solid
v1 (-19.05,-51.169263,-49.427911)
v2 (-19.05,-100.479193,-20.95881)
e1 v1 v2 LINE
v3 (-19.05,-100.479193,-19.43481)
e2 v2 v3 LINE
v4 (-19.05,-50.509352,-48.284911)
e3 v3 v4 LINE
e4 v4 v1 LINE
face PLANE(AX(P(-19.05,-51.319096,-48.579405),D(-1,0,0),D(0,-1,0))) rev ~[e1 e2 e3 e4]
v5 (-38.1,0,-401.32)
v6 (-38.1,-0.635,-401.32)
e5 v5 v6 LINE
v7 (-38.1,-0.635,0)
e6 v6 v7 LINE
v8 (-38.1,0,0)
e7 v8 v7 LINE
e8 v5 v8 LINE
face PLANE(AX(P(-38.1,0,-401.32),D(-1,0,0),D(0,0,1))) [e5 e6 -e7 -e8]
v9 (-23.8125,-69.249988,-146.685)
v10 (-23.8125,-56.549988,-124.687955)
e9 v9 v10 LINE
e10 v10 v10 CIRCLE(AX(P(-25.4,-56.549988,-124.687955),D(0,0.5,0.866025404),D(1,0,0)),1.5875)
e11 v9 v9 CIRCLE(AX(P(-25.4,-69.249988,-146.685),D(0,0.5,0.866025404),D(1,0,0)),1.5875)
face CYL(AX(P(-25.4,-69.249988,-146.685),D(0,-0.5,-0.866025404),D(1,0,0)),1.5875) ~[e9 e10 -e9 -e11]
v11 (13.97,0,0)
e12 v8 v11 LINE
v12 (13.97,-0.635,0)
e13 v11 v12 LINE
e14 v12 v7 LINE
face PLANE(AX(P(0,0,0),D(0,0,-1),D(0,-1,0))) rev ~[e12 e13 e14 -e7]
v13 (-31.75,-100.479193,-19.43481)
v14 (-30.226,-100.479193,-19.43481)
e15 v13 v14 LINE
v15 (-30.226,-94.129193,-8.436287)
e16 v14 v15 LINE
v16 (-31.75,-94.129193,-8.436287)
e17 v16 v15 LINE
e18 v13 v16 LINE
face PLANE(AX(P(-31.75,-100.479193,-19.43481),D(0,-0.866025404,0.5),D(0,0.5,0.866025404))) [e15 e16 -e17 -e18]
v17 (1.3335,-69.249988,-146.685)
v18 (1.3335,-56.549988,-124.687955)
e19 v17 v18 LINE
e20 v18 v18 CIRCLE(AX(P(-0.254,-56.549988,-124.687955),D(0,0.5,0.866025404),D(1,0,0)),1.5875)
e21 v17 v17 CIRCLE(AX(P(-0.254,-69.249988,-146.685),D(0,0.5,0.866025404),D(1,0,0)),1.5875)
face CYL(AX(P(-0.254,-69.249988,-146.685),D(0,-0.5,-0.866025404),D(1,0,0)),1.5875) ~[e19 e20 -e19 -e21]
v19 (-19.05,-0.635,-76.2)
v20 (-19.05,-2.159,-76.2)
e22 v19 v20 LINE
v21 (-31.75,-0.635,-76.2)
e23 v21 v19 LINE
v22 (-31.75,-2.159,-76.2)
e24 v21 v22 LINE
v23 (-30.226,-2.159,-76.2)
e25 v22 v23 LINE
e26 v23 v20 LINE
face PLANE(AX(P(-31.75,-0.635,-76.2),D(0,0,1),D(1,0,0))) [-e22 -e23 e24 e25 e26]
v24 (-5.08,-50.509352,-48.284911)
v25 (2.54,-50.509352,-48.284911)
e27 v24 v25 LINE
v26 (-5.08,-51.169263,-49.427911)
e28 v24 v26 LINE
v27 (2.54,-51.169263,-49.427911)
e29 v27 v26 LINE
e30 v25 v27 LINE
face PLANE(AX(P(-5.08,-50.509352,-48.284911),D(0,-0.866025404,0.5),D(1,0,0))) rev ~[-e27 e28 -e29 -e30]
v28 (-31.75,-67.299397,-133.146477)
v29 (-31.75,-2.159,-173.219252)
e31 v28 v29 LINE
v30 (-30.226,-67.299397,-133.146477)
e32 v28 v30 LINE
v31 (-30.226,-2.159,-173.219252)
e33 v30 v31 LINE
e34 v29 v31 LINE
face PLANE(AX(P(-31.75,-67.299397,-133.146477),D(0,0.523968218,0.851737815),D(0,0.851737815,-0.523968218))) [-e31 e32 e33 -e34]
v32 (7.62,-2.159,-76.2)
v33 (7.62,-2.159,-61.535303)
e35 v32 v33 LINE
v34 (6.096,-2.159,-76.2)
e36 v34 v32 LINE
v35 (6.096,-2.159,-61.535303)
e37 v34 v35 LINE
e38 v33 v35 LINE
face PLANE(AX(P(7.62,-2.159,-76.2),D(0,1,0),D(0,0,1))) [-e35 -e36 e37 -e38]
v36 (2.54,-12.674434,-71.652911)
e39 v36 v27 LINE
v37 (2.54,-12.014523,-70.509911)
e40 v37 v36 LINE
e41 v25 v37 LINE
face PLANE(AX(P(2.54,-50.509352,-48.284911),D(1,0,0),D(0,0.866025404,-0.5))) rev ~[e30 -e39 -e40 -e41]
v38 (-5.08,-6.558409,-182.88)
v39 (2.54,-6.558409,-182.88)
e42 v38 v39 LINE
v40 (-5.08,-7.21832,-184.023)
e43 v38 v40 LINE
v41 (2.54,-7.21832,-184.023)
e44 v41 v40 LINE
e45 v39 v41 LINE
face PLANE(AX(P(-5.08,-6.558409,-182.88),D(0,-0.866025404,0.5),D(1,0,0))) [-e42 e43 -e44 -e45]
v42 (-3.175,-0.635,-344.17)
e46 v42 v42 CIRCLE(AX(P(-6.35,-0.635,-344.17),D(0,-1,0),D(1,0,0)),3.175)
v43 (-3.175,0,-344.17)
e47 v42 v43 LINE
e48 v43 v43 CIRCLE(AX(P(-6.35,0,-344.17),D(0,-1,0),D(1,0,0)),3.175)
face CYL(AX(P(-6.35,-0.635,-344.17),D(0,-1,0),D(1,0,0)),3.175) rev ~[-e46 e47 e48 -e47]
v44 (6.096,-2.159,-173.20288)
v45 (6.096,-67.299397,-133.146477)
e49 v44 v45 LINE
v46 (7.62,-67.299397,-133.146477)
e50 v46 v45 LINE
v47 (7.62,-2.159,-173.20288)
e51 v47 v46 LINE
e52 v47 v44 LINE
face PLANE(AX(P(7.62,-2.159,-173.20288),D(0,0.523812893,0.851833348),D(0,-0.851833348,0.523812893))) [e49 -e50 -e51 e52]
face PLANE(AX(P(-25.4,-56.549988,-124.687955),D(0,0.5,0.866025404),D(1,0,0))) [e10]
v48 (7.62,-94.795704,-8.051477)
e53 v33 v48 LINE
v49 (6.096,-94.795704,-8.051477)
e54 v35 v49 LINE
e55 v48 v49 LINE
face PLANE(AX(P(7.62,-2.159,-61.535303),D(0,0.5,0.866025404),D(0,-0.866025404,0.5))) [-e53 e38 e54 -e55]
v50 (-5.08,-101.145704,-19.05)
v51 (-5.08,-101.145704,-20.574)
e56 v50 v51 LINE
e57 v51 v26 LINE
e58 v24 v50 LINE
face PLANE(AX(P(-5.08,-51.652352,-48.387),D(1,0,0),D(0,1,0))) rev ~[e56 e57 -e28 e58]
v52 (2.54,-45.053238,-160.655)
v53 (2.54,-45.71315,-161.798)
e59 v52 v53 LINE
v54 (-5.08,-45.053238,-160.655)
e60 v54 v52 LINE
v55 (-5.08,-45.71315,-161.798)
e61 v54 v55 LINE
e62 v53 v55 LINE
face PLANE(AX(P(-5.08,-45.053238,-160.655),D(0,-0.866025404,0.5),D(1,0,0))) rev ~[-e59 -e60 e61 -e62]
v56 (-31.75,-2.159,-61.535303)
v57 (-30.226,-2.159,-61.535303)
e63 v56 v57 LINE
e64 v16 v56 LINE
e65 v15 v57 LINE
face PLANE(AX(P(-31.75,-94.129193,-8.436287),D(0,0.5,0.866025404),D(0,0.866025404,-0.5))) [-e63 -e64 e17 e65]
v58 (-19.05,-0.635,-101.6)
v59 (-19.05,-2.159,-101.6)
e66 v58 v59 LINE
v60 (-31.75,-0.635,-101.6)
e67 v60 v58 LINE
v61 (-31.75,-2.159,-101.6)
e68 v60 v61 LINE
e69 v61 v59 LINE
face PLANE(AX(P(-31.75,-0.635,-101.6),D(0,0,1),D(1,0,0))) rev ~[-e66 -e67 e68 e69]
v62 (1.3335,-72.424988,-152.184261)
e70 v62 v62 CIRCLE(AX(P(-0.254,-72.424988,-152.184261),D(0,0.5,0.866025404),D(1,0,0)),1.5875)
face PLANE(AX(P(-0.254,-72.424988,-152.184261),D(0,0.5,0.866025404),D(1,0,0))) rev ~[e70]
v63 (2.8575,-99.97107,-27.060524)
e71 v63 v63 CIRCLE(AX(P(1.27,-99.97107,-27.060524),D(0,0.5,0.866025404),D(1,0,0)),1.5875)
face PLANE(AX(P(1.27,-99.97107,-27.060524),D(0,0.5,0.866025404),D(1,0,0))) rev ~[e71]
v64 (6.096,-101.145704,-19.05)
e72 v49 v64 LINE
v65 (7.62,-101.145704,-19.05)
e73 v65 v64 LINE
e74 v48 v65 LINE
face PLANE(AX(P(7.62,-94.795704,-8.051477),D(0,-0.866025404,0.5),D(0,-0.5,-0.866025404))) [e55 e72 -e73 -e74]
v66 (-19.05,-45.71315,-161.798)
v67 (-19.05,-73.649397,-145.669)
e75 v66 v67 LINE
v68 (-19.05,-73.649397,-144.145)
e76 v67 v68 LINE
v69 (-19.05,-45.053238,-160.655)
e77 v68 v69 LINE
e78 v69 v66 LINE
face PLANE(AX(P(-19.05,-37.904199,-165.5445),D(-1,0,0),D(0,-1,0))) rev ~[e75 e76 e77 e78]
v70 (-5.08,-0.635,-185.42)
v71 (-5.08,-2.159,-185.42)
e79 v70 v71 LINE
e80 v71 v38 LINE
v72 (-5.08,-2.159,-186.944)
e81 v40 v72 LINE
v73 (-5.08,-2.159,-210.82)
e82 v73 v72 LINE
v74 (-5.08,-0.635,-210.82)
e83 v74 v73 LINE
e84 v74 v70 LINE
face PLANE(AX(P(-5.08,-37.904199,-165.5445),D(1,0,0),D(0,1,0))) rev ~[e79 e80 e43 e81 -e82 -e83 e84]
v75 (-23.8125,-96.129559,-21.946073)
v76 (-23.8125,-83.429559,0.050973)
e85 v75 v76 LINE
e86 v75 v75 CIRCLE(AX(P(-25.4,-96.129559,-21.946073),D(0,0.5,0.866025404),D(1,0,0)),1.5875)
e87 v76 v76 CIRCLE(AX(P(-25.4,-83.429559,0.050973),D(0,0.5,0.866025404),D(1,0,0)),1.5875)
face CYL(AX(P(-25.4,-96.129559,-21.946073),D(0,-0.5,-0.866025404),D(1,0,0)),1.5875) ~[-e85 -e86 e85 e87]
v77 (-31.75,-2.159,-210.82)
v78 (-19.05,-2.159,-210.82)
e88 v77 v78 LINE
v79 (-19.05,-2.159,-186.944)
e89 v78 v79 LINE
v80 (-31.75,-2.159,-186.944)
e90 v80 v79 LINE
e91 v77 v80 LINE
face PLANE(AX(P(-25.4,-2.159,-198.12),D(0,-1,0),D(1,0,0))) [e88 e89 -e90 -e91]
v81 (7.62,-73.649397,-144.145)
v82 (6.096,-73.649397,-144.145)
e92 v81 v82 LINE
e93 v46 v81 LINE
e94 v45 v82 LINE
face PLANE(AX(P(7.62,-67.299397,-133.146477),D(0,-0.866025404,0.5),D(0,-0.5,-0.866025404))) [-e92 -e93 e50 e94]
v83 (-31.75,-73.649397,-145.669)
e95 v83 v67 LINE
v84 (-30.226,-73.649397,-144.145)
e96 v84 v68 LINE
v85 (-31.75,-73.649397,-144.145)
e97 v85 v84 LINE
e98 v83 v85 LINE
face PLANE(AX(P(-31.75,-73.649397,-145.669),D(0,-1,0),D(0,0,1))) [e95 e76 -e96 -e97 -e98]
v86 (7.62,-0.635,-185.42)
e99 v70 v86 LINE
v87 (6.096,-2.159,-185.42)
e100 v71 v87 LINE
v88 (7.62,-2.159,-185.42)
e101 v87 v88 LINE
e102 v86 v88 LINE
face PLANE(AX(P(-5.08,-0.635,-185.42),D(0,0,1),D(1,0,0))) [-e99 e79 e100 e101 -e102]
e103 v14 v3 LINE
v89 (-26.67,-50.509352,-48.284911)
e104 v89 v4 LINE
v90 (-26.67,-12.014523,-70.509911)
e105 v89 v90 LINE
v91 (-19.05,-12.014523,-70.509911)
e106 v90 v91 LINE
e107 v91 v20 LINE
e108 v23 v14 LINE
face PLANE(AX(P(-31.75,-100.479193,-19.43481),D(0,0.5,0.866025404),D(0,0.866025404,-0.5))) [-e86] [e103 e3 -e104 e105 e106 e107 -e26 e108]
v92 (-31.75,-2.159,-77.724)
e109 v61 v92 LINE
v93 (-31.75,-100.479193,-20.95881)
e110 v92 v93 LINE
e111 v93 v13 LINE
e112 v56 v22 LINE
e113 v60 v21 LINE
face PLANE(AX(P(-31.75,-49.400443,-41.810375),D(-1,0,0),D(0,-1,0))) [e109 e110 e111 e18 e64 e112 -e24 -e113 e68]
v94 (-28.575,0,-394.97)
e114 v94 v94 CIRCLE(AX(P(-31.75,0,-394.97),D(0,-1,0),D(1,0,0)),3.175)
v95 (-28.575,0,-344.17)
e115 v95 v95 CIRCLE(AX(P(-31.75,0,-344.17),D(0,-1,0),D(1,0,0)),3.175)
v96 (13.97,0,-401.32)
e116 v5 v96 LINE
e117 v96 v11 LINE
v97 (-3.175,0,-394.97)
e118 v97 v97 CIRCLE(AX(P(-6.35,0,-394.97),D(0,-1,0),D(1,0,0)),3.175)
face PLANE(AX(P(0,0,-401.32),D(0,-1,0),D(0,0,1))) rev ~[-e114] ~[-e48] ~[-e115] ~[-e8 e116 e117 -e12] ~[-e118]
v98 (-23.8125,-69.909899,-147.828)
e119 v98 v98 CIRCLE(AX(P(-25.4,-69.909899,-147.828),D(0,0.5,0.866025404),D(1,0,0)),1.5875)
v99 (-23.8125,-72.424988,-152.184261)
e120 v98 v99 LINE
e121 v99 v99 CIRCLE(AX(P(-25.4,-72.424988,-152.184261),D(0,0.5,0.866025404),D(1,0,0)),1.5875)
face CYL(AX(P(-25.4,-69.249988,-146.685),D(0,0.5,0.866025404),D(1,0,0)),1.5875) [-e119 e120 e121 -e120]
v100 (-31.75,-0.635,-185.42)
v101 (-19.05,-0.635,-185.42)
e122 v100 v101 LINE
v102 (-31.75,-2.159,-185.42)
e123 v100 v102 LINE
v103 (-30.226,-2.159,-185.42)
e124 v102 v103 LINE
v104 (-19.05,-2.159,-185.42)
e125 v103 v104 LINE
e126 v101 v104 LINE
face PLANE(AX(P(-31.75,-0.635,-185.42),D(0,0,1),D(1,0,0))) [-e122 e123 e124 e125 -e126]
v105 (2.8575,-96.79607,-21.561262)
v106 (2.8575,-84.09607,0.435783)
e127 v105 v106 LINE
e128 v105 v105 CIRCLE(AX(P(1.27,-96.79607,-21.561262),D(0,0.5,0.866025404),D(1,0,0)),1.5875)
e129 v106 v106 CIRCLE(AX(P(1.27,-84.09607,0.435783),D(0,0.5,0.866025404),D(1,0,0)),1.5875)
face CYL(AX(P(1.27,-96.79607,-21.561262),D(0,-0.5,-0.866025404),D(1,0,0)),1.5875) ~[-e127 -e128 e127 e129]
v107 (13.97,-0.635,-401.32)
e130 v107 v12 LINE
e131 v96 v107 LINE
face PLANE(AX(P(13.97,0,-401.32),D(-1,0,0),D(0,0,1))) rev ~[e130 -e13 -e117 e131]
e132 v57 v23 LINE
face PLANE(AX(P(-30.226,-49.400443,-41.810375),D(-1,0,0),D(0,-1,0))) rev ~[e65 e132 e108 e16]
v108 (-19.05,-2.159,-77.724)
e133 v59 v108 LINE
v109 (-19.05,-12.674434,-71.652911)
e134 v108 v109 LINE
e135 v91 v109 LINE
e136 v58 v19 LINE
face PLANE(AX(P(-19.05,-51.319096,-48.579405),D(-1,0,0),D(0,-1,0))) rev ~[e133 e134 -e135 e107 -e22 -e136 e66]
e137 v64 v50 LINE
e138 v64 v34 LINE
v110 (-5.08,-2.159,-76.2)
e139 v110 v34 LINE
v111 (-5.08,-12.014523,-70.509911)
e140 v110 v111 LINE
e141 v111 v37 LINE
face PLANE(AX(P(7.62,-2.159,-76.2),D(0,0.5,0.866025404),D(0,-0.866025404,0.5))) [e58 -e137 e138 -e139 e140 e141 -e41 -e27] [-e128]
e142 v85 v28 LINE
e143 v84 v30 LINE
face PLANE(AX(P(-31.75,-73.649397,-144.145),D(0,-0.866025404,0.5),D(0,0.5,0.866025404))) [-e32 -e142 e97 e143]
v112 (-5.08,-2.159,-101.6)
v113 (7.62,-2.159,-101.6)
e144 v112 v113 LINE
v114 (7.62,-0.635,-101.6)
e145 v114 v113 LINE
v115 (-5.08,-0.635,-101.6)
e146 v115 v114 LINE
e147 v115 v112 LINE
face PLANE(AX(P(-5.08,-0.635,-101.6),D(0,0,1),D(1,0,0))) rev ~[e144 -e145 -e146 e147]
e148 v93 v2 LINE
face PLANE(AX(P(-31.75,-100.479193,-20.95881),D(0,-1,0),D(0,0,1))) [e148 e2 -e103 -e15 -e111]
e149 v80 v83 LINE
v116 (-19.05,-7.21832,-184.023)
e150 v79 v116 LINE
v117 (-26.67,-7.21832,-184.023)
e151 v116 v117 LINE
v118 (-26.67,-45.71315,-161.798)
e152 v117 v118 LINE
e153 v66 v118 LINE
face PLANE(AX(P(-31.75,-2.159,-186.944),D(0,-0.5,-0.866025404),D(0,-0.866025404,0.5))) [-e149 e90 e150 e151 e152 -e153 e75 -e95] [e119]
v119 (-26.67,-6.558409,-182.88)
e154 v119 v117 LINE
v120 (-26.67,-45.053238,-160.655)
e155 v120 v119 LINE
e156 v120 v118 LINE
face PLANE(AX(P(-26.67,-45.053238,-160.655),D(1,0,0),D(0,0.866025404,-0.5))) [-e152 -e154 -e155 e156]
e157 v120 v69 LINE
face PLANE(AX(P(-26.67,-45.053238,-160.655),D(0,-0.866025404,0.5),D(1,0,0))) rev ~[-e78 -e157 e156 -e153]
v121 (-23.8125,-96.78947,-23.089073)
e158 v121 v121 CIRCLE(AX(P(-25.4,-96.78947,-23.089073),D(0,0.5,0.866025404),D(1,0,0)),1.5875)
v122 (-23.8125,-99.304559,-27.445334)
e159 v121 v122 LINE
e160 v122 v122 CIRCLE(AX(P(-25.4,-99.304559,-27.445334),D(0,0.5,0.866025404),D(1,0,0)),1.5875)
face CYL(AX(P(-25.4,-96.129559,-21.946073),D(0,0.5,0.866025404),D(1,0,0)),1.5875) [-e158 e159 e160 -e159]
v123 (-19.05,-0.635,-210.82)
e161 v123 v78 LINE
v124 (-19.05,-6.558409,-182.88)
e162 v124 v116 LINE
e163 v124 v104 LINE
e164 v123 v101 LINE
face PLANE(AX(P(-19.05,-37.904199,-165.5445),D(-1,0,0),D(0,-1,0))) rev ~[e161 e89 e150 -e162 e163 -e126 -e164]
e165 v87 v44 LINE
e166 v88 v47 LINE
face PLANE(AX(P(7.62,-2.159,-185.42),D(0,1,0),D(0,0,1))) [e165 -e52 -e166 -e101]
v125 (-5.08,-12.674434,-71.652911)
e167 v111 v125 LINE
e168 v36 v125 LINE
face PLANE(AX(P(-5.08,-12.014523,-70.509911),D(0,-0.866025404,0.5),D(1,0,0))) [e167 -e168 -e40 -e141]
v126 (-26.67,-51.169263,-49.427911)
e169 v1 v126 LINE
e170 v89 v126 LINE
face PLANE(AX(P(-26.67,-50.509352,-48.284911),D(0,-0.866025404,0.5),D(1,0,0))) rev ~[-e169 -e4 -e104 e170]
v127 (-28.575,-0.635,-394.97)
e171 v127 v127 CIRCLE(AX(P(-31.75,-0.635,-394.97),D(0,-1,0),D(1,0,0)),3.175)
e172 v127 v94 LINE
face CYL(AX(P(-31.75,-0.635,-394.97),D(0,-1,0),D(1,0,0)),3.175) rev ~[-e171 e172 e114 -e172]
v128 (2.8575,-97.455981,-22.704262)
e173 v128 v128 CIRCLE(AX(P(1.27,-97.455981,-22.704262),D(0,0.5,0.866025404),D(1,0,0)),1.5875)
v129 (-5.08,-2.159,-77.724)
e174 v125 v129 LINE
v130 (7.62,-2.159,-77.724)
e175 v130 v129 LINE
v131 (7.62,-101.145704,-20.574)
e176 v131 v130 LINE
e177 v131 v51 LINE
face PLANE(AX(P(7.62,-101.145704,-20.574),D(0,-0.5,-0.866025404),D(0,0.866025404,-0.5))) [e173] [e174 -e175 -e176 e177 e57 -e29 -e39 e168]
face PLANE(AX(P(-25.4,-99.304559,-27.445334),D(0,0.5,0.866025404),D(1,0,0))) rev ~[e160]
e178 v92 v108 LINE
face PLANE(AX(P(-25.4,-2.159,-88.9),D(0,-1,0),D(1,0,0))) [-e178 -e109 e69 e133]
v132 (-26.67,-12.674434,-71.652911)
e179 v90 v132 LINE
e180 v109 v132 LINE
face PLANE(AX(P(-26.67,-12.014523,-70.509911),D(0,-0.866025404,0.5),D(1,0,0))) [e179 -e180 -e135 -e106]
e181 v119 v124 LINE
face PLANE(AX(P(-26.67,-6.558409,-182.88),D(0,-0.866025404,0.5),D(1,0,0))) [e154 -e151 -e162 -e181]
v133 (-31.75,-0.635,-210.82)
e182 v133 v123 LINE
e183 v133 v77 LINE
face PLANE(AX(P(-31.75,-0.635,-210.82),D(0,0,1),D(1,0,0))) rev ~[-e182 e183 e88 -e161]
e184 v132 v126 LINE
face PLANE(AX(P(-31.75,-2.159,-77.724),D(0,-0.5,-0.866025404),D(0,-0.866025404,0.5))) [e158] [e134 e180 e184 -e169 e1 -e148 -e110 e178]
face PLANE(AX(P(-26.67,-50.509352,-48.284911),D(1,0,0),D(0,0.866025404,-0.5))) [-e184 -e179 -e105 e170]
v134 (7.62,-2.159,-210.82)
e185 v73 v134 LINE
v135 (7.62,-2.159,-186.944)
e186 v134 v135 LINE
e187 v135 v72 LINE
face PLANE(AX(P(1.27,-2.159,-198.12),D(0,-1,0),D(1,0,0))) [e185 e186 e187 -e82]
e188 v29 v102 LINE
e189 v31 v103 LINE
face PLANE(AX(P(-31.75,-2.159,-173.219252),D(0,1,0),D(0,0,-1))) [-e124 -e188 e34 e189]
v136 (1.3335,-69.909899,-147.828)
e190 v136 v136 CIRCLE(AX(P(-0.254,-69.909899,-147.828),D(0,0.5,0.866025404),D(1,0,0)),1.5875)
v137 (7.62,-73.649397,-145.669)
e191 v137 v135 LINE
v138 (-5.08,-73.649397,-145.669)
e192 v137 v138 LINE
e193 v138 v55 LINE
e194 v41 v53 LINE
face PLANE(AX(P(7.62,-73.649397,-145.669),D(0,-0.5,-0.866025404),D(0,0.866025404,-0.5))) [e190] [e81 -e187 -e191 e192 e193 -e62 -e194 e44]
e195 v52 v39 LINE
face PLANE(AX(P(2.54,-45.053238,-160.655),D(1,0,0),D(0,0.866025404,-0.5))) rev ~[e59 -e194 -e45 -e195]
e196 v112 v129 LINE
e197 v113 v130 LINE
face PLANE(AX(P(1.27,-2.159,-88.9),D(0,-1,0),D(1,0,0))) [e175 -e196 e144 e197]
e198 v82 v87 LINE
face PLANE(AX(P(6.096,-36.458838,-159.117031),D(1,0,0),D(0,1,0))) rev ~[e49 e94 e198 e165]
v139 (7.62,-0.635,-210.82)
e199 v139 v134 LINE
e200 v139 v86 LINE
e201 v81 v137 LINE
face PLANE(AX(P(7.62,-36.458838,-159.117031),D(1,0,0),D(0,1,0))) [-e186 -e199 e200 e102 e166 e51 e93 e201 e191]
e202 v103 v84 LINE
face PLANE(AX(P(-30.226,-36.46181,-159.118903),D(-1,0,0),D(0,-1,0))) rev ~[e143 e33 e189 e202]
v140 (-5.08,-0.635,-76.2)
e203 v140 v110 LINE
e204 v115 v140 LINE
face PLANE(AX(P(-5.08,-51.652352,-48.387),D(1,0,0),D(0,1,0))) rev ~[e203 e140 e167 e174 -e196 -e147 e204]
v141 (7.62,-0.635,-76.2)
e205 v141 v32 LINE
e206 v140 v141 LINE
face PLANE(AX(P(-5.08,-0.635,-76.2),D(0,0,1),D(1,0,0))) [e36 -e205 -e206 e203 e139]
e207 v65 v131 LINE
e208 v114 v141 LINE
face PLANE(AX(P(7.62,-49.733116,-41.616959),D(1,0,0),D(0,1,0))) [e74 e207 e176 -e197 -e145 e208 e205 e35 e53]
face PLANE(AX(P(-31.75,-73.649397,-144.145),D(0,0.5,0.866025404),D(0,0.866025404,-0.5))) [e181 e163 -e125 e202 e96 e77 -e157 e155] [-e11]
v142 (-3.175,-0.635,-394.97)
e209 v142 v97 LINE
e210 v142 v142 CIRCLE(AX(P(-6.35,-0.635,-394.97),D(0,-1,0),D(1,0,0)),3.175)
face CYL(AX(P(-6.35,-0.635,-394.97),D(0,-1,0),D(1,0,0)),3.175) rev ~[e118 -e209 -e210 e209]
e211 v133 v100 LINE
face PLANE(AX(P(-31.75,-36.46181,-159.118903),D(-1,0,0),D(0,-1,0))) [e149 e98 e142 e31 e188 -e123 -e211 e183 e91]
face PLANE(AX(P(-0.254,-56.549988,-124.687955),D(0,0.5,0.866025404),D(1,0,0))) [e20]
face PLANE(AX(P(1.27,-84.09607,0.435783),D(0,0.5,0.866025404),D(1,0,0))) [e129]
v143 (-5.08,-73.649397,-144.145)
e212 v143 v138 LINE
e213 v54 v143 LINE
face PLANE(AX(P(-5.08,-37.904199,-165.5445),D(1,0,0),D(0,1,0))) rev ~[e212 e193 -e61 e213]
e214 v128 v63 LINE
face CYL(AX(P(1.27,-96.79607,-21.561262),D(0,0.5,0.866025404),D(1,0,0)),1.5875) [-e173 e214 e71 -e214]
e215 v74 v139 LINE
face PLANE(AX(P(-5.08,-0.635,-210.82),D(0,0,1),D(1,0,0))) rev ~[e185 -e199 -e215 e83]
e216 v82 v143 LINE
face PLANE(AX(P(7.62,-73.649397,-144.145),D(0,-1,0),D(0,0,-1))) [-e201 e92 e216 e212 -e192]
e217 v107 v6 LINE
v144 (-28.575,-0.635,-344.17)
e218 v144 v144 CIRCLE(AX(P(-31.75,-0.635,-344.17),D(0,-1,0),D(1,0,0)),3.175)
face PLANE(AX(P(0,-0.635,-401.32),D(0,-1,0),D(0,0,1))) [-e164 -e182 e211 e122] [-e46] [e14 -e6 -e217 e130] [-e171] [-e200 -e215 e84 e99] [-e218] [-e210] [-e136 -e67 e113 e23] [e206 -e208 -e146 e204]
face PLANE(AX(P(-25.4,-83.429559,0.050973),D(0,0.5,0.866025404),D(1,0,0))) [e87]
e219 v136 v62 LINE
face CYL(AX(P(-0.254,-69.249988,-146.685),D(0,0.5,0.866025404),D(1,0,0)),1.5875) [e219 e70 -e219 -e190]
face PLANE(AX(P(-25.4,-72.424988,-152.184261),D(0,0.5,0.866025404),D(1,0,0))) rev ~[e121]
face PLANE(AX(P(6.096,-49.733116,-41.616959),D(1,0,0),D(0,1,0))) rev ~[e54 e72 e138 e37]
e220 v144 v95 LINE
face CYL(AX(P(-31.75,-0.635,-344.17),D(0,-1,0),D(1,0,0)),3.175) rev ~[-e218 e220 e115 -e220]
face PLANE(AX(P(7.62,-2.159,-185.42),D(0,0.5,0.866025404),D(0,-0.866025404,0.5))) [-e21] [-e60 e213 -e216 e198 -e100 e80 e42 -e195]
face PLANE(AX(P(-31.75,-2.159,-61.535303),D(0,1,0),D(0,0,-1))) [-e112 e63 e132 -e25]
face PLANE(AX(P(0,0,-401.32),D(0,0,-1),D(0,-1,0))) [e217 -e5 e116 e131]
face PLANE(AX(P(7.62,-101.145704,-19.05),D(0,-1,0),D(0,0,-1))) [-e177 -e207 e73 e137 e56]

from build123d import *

# Parameters (mm, degrees)
F0_W           = 38.1
F0_H           = 401.32
F1_DEPTH       = 0.635
F2_DEPTH       = 13.97
F3_W           = 12.7
F3_H           = 25.4
F4_DEPTH       = 1.524
F5_W           = 12.7
F5_H           = 25.4
F6_DEPTH       = 1.524
F8_DEPTH       = 12.7
F10_DEPTH      = 12.7
F12_DEPTH      = 1.524
F14_DEPTH      = 1.524
F15_W          = 7.62
F15_H          = 44.45
F16_DEPTH      = 25.4
F17_W          = 12.7
F17_H          = 25.4
F18_DEPTH      = 1.524
F20_DEPTH      = 12.7
F22_DEPTH      = 12.7
F24_DEPTH      = 1.524
F26_DEPTH      = 1.524
F27_W          = 7.62
F27_H          = 44.45
F28_DEPTH      = 25.4
F29_R          = 3.175
F30_DEPTH      = 25.4
F31_R          = 1.5875
F32_DEPTH      = 25.4
F32_DEPTH_BACK = 6.35
F33_R          = 1.5875
F34_DEPTH      = 25.4
F34_DEPTH_BACK = 6.35


with BuildPart() as f1:
    # F0 (on Front) → F1 (new body)
    with BuildSketch(Plane.XZ):
        with Locations((-19.05, -200.66)):
            Rectangle(F0_W, F0_H)
    extrude(amount=F1_DEPTH)

    # F2 (add): a face of the model
    f2_faces = [f1.faces().sort_by_distance(p)[0] for p in [
        (0, -0.3175, -200.66),
    ]]
    extrude(f2_faces, amount=F2_DEPTH)

    # F3 (on face) → F4 (join)
    with BuildSketch(Plane.XZ.offset(0.635)):
        with Locations((1.27, -88.9)):
            Rectangle(F3_W, F3_H)
    extrude(amount=F4_DEPTH)

    # F5 (on face) → F6 (join)
    with BuildSketch(Plane.XZ.offset(0.635)):
        with Locations((-25.4, -88.9)):
            Rectangle(F5_W, F5_H)
    extrude(amount=F6_DEPTH)

    # F7 (on face) → F8 (join)
    with BuildSketch(Plane.YZ.offset(7.62)):
        Polygon((-2.159, -77.724), (-2.159, -76.2), (-101.1457036526, -19.05), (-101.1457036526, -20.574), align=None)
    extrude(amount=-F8_DEPTH)

    # F9 (on face) → F10 (join)
    with BuildSketch(Plane(origin=(-31.75, 0, 0), x_dir=(0, -1, 0), z_dir=(-1, 0, 0))):
        Polygon((100.4791929613, -19.434810127), (2.159, -76.2), (2.159, -77.724), (100.4791929613, -20.958810127), align=None)
    extrude(amount=-F10_DEPTH)

    # F11 (on face) → F12 (join)
    with BuildSketch(Plane.YZ.offset(7.62)):
        Polygon((-101.1457036526, -19.05), (-2.159, -76.2), (-2.159, -61.5353031626), (-94.7957036526, -8.0514773719), align=None)
    extrude(amount=-F12_DEPTH)

    # F13 (on face) → F14 (join)
    with BuildSketch(Plane(origin=(-31.75, 0, 0), x_dir=(0, -1, 0), z_dir=(-1, 0, 0))):
        Polygon((2.159, -61.5353031626), (2.159, -76.2), (100.4791929613, -19.434810127), (94.1291929613, -8.4362874989), align=None)
    extrude(amount=-F14_DEPTH)

    # F15 (on face) → F16 (cut)
    with BuildSketch(Plane(origin=(0, -33.5353178842, -58.0848744234), x_dir=(1, 0, 0), z_dir=(0, 0.5, 0.8660254038))):
        with Locations((-22.86, 2.6250738686)):
            Rectangle(F15_W, F15_H)
        with Locations((-1.27, 2.6250738686)):
            Rectangle(F15_W, F15_H)
    extrude(amount=-F16_DEPTH, mode=Mode.SUBTRACT)

    # F17 (on face) → F18 (join)
    with BuildSketch(Plane.XZ.offset(0.635)):
        with Locations((-25.4, -198.12)):
            Rectangle(F17_W, F17_H)
        with Locations((1.27, -198.12)):
            Rectangle(F17_W, F17_H)
    extrude(amount=F18_DEPTH)

    # F19 (on face) → F20 (join)
    with BuildSketch(Plane.YZ.offset(7.62)):
        Polygon((-2.159, -186.944), (-2.159, -185.42), (-73.6493970824, -144.145), (-73.6493970824, -145.669), align=None)
    extrude(amount=-F20_DEPTH)

    # F21 (on face) → F22 (join)
    with BuildSketch(Plane(origin=(-31.75, 0, 0), x_dir=(0, -1, 0), z_dir=(-1, 0, 0))):
        Polygon((73.6493970824, -144.145), (2.159, -185.42), (2.159, -186.944), (73.6493970824, -145.669), align=None)
    extrude(amount=-F22_DEPTH)

    # F23 (on face) → F24 (join)
    with BuildSketch(Plane.YZ.offset(7.62)):
        Polygon((-73.6493970824, -144.145), (-2.159, -185.42), (-2.159, -173.2028803778), (-67.2993970824, -133.1464773719), align=None)
    extrude(amount=-F24_DEPTH)

    # F25 (on face) → F26 (join)
    with BuildSketch(Plane(origin=(-31.75, 0, 0), x_dir=(0, -1, 0), z_dir=(-1, 0, 0))):
        Polygon((2.159, -173.2192523234), (2.159, -185.42), (73.6493970824, -144.145), (67.2993970824, -133.1464773719), align=None)
    extrude(amount=-F26_DEPTH)

    # F27 (on face) → F28 (cut)
    with BuildSketch(Plane(origin=(0, -80.8289651849, -139.9998744234), x_dir=(1, 0, 0), z_dir=(0, 0.5, 0.8660254038))):
        with Locations((-22.86, 63.5352511532)):
            Rectangle(F27_W, F27_H)
        with Locations((-1.27, 63.5352511532)):
            Rectangle(F27_W, F27_H)
    extrude(amount=-F28_DEPTH, mode=Mode.SUBTRACT)

    # F29 (on face) → F30 (cut)
    with BuildSketch(Plane.XZ.offset(0.635)):
        with Locations((-31.75, -394.97)):
            Circle(F29_R)
        with Locations((-31.75, -344.17)):
            Circle(F29_R)
        with Locations((-6.35, -344.17)):
            Circle(F29_R)
        with Locations((-6.35, -394.97)):
            Circle(F29_R)
    extrude(amount=-F30_DEPTH, mode=Mode.SUBTRACT)

    # F31 (on face) → F32 (join, two sides)
    with BuildSketch(Plane(origin=(0, -33.5353178842, -58.0848744234), x_dir=(1, 0, 0), z_dir=(0, 0.5, 0.8660254038))) as f32_sk:
        with Locations((-25.4, -72.2776037297)):
            Circle(F31_R)
        with Locations((1.27, -73.0472239837)):
            Circle(F31_R)
    extrude(amount=F32_DEPTH)
    extrude(f32_sk.sketch, amount=-F32_DEPTH_BACK)

    # F33 (on face) → F34 (join, two sides)
    with BuildSketch(Plane(origin=(0, -80.8289651849, -139.9998744234), x_dir=(1, 0, 0), z_dir=(0, 0.5, 0.8660254038))) as f34_sk:
        with Locations((-25.4, 13.3702511532)):
            Circle(F33_R)
        with Locations((-0.254, 13.3702511532)):
            Circle(F33_R)
    extrude(amount=F34_DEPTH)
    extrude(f34_sk.sketch, amount=-F34_DEPTH_BACK)


solid = f1.part
